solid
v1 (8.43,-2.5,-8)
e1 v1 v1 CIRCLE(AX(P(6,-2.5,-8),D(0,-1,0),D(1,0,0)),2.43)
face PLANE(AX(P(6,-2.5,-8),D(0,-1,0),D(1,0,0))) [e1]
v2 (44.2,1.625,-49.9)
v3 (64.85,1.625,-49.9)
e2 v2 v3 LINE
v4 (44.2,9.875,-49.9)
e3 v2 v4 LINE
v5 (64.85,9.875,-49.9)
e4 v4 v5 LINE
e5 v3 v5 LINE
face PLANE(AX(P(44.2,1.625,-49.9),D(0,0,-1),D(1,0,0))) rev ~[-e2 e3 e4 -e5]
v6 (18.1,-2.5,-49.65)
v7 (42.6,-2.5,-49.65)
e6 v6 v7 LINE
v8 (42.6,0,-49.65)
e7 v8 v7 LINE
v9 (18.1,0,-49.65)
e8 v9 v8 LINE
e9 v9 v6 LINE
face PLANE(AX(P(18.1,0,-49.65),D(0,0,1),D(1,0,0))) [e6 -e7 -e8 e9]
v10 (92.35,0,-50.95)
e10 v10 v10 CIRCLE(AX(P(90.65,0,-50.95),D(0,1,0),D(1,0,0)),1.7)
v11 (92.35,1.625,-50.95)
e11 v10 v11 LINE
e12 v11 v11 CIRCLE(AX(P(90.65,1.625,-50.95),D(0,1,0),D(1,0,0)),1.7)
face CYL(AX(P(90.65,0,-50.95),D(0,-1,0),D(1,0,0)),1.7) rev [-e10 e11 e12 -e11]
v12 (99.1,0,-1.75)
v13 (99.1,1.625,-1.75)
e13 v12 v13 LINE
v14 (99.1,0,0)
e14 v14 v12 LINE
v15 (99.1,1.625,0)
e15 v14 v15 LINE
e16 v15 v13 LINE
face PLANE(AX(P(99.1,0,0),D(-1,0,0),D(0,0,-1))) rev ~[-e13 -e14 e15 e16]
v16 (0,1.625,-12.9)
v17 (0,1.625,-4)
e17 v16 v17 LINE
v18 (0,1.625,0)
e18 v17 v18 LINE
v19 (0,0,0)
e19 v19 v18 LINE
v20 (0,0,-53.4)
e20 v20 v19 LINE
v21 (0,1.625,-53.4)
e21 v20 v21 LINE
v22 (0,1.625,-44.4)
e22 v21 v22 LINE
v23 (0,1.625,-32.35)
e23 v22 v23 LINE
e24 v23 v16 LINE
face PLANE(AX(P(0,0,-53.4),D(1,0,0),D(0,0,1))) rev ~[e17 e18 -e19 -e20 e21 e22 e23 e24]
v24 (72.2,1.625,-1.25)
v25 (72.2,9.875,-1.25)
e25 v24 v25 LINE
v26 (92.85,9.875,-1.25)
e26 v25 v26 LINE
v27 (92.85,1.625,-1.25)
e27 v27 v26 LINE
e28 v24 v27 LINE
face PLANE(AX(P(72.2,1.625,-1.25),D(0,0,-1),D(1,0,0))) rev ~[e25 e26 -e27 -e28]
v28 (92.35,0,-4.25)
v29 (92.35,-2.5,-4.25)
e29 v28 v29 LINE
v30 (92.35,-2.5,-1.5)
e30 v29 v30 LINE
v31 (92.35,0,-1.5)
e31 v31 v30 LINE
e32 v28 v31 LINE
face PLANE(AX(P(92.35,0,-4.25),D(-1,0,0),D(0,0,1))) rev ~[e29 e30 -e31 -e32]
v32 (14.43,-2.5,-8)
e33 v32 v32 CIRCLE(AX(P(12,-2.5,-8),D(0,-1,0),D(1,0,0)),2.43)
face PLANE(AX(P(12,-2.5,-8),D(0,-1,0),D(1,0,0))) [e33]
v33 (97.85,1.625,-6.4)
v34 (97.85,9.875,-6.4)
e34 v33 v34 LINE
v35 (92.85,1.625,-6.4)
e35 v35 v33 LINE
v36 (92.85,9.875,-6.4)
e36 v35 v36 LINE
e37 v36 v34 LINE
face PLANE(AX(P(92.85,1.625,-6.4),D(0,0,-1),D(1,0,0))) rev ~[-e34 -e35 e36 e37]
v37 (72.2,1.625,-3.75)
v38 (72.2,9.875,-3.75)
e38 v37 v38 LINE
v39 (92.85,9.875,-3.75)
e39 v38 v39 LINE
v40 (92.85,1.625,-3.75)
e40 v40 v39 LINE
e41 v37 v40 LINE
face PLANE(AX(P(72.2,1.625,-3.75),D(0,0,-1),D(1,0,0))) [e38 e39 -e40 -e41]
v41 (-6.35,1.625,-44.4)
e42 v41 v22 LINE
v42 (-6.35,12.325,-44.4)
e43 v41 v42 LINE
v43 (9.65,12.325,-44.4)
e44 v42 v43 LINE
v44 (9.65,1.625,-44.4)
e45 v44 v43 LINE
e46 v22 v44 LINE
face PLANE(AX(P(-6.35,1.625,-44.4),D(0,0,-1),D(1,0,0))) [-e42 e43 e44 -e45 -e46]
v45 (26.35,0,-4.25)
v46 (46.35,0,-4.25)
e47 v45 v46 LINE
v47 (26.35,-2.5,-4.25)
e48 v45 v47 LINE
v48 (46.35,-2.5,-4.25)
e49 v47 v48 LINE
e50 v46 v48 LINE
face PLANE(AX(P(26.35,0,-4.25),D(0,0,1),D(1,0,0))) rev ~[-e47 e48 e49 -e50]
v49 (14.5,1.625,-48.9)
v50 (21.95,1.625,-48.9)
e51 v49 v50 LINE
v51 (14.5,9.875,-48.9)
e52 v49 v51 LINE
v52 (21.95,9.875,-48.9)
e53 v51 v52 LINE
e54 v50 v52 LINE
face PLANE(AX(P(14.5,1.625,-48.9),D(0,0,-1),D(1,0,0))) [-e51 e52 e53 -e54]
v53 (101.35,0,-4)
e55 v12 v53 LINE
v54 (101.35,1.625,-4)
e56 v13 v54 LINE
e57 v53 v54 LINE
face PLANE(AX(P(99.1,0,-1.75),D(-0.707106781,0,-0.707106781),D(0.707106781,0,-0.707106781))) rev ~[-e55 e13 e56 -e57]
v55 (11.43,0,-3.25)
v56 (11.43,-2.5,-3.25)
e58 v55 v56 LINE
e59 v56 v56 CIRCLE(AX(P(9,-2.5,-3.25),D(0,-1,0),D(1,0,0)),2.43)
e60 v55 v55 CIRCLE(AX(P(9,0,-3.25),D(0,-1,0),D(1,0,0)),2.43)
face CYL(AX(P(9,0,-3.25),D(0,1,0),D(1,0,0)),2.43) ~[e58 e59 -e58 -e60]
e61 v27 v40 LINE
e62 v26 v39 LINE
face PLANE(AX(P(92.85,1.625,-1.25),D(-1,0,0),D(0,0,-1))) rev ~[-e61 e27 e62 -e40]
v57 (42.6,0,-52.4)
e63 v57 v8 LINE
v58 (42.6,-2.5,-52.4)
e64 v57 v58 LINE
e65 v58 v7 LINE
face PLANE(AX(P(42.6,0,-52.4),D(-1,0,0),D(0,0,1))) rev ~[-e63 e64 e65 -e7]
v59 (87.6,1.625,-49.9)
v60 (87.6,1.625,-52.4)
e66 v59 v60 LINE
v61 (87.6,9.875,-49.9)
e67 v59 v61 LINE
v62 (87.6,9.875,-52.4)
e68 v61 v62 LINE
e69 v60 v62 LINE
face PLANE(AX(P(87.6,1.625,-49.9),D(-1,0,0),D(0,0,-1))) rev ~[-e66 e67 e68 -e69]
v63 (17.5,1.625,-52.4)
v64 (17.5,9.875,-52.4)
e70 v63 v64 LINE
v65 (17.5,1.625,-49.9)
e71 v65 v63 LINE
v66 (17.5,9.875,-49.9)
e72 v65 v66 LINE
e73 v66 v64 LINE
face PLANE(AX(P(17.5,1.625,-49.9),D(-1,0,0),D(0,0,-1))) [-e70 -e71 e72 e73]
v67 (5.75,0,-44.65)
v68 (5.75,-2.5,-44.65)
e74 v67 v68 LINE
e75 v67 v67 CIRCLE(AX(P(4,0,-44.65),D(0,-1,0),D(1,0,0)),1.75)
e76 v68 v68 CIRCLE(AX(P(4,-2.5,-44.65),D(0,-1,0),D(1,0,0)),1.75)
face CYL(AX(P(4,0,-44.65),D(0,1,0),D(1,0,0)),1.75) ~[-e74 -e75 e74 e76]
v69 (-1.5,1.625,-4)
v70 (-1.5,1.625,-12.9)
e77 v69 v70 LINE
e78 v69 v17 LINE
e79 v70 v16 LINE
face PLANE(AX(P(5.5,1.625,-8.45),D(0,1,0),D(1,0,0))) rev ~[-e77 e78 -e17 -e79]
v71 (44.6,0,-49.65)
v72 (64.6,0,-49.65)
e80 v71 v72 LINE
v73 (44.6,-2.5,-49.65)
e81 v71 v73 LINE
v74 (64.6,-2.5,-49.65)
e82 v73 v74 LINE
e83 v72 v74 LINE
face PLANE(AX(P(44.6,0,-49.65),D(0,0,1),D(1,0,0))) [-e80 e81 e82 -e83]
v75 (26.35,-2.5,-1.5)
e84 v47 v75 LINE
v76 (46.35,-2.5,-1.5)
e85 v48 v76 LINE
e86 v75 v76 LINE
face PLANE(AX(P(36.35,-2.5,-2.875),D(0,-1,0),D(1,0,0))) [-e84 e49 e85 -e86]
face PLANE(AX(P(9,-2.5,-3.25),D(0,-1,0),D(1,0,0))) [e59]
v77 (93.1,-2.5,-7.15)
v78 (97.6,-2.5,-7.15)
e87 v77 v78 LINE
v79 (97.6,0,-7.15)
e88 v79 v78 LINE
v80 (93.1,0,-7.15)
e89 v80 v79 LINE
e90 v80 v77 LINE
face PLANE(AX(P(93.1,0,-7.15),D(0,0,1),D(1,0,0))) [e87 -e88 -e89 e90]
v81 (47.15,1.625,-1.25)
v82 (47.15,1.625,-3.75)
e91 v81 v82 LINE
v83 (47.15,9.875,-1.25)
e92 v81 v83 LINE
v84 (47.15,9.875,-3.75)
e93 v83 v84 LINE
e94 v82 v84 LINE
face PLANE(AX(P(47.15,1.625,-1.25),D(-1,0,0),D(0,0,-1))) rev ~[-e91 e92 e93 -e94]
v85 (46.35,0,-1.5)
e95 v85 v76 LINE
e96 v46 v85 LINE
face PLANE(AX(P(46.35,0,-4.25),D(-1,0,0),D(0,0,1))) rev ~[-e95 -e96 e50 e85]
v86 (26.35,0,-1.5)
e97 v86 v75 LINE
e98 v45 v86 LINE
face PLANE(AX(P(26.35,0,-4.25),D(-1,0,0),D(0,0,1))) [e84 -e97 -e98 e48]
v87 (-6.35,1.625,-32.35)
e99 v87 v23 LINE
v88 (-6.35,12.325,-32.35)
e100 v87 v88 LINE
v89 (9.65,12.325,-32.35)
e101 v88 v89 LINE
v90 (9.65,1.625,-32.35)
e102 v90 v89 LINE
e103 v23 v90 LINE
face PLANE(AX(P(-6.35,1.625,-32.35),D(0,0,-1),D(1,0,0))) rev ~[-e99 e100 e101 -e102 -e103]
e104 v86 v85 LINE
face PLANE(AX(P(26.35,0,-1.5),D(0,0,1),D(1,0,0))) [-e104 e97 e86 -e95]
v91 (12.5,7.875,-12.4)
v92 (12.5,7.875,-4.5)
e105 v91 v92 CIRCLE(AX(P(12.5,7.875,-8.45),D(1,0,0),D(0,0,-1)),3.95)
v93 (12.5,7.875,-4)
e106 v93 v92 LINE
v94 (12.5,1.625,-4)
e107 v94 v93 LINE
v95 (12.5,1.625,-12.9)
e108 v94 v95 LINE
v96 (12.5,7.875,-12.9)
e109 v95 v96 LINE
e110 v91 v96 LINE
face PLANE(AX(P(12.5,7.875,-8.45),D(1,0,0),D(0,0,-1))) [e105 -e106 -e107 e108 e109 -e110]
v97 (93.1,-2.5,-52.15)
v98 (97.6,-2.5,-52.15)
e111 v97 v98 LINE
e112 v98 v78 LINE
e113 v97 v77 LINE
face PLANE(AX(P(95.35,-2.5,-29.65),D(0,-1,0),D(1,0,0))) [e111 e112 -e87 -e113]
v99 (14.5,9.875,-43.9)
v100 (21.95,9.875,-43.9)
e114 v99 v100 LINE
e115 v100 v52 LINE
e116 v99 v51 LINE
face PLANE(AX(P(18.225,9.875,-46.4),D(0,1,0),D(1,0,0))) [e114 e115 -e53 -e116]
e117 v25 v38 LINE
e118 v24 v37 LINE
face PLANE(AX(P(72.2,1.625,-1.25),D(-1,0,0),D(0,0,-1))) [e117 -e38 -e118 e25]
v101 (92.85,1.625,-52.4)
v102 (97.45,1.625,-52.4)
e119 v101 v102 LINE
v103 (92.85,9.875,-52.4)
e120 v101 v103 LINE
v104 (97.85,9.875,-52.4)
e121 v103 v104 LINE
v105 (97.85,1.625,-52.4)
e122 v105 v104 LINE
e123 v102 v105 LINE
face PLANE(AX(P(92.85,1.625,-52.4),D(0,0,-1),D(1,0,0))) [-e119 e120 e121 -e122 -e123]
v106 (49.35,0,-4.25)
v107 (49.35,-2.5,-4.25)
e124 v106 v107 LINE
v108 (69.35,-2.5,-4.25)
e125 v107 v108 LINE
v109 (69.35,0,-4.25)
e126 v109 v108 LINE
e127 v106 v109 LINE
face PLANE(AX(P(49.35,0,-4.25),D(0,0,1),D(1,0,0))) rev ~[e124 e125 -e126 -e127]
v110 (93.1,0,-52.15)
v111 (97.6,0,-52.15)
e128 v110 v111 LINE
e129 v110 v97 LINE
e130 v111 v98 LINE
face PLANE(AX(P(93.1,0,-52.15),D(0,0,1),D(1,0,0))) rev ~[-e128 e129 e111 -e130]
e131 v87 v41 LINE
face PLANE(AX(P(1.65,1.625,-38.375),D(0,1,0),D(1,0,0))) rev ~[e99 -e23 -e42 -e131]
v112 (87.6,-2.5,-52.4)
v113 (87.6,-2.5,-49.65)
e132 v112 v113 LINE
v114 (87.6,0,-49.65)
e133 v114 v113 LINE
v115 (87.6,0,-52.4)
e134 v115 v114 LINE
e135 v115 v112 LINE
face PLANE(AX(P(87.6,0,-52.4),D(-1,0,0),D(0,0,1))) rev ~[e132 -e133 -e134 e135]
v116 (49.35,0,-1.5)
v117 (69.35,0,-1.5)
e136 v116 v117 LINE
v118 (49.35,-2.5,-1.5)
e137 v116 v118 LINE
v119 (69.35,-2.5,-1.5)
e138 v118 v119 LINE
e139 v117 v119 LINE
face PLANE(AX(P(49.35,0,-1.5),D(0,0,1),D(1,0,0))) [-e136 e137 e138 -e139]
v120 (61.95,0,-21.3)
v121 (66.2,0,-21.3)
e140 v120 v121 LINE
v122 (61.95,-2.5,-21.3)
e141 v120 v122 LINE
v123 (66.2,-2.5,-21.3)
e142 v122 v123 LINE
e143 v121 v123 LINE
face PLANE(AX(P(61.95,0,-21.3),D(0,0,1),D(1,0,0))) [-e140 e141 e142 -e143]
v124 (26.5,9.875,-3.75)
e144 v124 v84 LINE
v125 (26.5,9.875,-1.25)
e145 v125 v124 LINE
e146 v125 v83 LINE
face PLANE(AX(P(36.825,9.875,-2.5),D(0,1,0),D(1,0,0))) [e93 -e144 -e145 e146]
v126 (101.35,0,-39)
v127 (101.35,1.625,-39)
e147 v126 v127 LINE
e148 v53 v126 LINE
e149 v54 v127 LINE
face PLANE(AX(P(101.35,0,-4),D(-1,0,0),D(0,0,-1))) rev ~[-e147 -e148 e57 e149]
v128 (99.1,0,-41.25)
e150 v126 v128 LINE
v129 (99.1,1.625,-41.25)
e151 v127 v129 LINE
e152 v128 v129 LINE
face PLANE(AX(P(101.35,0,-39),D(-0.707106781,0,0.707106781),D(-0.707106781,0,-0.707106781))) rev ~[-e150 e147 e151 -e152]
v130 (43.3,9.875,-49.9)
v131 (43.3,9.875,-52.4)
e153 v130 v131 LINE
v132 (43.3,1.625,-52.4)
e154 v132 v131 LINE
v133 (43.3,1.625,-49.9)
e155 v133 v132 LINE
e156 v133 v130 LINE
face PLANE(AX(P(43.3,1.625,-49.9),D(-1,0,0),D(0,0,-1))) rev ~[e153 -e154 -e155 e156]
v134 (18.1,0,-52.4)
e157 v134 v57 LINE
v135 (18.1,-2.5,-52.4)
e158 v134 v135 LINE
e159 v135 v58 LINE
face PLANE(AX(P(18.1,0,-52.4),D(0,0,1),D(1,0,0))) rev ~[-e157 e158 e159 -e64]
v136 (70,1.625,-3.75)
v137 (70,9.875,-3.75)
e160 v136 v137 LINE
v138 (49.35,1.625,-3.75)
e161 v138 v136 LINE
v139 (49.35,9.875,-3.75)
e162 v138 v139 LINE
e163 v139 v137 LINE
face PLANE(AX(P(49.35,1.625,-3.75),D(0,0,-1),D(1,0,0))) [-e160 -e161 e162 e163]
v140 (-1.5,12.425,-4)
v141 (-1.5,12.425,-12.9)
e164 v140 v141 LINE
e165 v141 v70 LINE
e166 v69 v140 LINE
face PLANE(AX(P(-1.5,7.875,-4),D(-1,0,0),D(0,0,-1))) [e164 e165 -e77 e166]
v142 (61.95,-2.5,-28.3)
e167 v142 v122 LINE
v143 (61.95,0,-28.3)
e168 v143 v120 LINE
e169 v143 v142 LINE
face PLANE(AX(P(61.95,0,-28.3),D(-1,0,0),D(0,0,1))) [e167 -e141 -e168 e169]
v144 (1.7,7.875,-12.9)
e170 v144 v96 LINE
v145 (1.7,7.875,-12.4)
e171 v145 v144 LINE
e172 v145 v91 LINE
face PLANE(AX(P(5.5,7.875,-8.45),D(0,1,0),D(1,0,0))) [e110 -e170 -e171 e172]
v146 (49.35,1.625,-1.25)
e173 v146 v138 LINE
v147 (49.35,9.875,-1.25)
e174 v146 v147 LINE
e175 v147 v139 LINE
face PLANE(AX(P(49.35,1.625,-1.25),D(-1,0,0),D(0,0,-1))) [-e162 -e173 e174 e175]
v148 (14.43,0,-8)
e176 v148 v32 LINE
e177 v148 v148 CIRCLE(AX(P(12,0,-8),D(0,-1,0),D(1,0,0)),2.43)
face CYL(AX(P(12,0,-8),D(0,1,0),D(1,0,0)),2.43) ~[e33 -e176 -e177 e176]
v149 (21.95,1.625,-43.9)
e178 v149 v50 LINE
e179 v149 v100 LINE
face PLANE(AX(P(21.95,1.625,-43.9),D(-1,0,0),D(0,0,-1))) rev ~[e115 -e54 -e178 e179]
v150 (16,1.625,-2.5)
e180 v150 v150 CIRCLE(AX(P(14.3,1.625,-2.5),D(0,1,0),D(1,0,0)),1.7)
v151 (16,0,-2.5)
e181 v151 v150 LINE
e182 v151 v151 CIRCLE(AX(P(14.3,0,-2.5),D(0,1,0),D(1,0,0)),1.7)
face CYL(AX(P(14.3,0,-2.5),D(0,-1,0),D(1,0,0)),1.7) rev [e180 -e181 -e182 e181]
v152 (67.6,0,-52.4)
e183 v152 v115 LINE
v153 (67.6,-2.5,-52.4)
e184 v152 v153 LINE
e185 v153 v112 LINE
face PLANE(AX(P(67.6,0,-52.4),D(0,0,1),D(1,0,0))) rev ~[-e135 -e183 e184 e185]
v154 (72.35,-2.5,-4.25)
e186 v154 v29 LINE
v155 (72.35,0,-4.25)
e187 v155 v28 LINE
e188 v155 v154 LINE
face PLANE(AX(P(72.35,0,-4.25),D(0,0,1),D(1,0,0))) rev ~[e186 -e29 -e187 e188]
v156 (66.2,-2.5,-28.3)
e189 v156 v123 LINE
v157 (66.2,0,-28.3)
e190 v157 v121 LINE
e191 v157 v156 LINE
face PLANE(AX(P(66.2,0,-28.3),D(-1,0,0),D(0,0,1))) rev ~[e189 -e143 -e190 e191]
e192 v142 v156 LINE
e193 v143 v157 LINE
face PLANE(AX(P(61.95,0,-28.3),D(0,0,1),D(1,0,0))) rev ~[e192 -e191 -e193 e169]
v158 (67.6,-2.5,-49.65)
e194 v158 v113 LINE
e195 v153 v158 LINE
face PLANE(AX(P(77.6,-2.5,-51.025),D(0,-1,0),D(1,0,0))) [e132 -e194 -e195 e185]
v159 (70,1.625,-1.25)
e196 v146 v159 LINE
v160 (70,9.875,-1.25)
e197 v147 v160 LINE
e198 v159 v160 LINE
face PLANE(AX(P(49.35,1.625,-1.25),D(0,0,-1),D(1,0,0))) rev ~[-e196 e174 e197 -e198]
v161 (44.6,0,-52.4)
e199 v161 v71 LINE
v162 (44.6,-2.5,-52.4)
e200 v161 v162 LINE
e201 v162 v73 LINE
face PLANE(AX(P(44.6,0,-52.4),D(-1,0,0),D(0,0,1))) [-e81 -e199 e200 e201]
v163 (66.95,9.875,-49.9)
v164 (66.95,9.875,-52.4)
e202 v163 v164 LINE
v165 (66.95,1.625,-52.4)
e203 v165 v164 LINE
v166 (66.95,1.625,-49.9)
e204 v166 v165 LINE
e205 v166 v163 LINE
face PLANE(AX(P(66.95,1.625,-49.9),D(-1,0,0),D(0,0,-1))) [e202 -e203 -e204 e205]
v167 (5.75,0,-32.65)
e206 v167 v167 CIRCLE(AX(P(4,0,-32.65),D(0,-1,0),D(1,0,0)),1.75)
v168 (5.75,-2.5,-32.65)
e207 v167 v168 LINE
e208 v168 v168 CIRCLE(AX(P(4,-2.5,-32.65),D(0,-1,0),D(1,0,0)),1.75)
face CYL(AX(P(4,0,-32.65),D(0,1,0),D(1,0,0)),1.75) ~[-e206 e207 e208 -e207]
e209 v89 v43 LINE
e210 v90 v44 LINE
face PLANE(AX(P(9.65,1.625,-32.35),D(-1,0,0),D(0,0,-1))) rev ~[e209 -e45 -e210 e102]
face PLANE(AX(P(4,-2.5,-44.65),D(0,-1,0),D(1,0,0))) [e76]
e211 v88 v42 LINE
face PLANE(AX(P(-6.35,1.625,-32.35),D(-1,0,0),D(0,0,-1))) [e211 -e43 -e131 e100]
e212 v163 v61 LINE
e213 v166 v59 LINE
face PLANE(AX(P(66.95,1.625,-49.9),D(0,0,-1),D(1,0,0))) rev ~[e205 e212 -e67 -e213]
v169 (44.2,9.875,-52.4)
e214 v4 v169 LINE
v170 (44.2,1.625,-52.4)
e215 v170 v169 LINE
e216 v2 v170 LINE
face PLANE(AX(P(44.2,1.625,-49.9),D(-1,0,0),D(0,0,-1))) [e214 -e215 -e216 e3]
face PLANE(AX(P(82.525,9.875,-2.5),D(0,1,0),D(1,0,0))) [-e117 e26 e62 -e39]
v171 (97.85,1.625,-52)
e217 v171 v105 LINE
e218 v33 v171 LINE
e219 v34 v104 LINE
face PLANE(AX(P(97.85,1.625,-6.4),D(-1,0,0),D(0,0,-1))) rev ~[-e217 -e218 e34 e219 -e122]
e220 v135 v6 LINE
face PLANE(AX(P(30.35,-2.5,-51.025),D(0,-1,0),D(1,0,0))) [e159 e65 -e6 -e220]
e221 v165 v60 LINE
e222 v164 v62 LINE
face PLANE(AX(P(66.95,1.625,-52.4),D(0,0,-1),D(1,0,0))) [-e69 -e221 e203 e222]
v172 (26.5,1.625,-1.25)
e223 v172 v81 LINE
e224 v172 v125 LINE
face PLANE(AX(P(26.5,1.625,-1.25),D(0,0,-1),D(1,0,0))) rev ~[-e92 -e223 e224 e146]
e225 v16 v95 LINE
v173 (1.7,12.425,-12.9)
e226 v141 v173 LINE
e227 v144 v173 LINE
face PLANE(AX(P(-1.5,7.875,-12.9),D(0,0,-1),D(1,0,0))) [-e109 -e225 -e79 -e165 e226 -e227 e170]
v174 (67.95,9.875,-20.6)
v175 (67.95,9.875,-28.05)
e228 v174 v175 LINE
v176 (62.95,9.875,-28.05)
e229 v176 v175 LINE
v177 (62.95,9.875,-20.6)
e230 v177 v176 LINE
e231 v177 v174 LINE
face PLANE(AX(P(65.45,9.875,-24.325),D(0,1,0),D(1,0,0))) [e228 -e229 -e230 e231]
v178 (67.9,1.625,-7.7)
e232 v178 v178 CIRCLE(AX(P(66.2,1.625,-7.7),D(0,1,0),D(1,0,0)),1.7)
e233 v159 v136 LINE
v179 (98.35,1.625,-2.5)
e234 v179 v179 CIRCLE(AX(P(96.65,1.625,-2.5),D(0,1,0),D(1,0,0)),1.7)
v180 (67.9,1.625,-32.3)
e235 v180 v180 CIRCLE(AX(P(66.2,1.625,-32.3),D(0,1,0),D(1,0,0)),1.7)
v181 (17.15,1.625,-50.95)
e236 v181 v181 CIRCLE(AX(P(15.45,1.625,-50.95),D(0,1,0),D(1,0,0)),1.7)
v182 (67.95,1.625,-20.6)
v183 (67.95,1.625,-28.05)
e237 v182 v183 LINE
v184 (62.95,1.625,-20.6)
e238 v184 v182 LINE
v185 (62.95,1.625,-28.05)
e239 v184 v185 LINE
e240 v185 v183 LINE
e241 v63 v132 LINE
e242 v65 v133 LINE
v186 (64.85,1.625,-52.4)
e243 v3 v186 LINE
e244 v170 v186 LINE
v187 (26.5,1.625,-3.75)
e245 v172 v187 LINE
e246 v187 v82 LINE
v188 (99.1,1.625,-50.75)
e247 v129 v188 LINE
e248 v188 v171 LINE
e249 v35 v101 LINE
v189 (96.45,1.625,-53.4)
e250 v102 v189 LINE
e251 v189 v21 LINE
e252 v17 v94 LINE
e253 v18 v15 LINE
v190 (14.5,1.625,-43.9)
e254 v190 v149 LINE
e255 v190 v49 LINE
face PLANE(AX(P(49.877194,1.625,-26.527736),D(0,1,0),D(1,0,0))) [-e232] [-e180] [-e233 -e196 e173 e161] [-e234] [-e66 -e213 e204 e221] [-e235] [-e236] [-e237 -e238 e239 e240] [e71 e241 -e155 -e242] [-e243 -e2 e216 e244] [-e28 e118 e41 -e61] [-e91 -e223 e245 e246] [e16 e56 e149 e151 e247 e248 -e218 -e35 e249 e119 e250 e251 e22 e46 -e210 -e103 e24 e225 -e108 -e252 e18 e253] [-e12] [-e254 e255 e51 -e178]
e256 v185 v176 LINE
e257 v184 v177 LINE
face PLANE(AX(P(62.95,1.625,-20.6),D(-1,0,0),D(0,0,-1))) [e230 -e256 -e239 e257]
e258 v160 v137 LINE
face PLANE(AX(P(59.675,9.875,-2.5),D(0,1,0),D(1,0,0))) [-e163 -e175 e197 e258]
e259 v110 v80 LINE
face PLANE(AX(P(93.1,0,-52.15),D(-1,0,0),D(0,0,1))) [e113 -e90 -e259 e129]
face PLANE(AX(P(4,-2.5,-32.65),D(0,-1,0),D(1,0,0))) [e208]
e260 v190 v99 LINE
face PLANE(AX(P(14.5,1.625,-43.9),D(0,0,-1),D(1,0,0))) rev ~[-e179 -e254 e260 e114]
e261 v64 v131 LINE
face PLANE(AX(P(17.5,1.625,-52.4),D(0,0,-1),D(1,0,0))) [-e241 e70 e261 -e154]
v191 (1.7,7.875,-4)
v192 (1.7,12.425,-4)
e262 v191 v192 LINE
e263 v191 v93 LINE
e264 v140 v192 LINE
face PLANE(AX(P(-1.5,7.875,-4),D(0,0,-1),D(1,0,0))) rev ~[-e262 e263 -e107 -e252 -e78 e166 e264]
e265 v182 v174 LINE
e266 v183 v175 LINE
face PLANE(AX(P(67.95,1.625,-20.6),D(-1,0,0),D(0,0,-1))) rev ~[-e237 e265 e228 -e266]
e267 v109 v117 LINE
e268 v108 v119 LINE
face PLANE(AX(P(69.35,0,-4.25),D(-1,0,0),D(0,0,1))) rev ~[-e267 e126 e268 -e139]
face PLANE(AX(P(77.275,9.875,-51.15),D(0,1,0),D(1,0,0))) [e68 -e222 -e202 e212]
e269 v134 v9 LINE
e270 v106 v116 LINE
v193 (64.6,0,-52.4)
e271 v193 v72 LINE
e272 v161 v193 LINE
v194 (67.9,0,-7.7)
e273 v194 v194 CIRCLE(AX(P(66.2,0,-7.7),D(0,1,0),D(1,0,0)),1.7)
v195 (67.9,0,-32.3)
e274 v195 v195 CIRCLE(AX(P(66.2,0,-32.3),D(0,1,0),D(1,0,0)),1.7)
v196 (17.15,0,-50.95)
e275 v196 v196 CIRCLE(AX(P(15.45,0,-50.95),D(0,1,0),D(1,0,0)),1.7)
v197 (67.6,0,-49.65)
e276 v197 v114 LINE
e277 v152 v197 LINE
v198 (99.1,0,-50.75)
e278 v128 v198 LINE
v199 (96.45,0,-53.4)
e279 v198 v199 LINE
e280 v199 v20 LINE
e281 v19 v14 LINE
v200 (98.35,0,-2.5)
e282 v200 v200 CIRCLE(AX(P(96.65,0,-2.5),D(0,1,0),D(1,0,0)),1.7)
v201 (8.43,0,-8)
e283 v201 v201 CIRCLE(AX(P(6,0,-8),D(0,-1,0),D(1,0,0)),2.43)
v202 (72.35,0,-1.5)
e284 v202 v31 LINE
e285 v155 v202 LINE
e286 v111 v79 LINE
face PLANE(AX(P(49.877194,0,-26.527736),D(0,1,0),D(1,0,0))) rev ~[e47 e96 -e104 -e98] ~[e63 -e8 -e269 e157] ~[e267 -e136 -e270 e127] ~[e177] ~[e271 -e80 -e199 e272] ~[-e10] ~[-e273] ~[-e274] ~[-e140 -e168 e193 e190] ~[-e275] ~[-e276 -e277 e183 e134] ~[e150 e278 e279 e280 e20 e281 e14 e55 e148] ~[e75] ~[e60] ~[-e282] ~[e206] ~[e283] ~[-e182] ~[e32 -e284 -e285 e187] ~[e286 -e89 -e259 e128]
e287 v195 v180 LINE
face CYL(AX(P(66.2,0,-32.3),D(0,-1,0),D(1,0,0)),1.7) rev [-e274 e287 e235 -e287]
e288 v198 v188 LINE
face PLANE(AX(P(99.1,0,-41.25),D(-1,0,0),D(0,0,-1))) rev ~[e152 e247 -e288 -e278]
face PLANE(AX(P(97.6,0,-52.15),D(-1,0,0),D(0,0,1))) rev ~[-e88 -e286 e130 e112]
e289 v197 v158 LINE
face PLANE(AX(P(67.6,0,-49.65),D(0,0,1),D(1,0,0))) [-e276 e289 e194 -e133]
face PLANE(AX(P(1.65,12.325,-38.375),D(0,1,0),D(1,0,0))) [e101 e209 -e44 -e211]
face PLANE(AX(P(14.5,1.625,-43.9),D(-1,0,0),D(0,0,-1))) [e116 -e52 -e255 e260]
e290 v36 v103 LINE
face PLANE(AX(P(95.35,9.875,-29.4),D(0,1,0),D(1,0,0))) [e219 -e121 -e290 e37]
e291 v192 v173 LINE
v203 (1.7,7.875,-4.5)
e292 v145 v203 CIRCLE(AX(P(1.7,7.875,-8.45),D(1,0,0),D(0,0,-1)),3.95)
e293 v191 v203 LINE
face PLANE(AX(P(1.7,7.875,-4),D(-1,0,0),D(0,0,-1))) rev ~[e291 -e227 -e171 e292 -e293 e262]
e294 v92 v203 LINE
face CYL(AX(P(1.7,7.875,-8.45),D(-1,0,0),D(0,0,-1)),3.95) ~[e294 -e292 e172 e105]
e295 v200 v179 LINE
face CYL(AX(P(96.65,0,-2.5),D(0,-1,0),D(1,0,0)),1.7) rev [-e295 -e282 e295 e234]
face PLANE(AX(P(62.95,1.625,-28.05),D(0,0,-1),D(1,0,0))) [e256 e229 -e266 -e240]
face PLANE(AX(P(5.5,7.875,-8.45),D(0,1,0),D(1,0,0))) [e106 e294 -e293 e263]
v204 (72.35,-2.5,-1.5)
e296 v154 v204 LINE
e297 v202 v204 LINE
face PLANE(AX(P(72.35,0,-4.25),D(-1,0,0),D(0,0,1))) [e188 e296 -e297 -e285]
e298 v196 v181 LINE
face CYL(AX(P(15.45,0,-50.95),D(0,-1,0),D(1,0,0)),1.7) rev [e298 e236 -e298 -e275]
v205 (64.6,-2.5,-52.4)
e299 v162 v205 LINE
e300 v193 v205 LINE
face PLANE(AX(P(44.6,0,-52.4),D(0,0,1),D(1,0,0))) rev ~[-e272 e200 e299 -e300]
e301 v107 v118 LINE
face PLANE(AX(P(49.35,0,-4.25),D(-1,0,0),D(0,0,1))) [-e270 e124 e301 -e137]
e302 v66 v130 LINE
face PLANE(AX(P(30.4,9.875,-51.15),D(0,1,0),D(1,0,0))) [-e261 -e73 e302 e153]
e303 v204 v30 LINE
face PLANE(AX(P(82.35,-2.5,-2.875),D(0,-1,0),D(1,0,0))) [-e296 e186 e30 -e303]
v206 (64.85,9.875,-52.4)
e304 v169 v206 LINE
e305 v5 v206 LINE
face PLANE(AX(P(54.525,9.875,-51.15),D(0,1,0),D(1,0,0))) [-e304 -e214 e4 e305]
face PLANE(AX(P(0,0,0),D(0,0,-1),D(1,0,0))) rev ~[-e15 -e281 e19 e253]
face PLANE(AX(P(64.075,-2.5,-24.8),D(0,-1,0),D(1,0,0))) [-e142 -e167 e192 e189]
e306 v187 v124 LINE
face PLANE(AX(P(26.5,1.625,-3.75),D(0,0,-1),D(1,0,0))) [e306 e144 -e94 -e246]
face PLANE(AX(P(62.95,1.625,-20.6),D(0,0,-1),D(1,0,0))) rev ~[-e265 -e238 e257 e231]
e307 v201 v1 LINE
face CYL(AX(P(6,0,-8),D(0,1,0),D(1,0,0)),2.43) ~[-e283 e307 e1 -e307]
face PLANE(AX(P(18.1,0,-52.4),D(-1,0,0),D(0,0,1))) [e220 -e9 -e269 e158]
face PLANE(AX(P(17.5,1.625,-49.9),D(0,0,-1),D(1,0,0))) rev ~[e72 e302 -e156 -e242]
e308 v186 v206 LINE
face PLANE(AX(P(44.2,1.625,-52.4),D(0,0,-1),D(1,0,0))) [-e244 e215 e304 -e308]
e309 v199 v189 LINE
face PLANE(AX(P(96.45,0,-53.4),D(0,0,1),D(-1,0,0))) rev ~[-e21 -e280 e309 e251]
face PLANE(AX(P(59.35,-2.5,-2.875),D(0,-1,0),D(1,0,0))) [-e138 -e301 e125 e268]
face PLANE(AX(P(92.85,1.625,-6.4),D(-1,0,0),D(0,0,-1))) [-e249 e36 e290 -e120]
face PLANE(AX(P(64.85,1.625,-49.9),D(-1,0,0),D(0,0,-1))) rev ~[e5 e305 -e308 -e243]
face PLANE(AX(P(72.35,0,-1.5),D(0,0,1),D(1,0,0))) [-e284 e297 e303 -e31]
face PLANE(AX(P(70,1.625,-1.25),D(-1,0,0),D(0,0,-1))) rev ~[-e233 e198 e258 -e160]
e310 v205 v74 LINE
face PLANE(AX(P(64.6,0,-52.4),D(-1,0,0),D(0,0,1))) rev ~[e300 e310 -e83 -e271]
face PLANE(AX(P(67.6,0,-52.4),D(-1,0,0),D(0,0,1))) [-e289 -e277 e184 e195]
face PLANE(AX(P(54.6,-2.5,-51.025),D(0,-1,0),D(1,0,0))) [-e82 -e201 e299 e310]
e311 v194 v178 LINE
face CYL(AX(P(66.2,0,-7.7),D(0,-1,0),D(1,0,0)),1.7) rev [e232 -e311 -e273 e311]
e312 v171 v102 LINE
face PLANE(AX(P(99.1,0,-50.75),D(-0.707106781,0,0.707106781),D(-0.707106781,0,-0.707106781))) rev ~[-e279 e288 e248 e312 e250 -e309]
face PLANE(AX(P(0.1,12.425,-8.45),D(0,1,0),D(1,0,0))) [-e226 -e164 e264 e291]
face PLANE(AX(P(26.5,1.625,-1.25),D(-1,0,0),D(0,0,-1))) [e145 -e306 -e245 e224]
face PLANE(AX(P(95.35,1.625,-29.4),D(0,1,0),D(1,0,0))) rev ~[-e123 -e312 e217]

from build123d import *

# Parameters (mm, degrees)
SKETCH2_R           = 1.7
BOSS_EXTRUDE1_DEPTH = 1.625
SKETCH3_W           = 16
SKETCH3_H           = 12.05
BOSS_EXTRUDE2_DEPTH = 10.7
SKETCH4_W           = 14
SKETCH4_H           = 8.9
BOSS_EXTRUDE3_DEPTH = 6.25
SKETCH5_W           = 3.2
SKETCH5_H           = 8.9
BOSS_EXTRUDE4_DEPTH = 4.55
SKETCH6_R           = 3.95
BOSS_EXTRUDE5_DEPTH = 10.8
SKETCH7_R           = 2.43
SKETCH7_R_2         = 1.75
SKETCH7_W           = 4.5
SKETCH7_H           = 45
SKETCH7_W_2         = 20
SKETCH7_H_2         = 2.75
SKETCH7_W_3         = 24.5
SKETCH7_W_4         = 4.25
SKETCH7_H_3         = 7
BOSS_EXTRUDE6_DEPTH = 2.5
SKETCH8_W           = 25.8
SKETCH8_H           = 2.5
SKETCH8_W_2         = 20.65
SKETCH8_W_3         = 5
SKETCH8_H_2         = 46
SKETCH8_H_3         = 7.45
SKETCH8_W_4         = 7.45
SKETCH8_H_4         = 5
BOSS_EXTRUDE7_DEPTH = 8.25


with BuildPart() as part:
    # Sketch2 → Boss-Extrude1 (new body)
    with BuildSketch(Plane(origin=(0, 0, 0), x_dir=(1, 0, 0), z_dir=(0, 1, 0))):
        Polygon((99.1, 0), (99.1, 1.75), (101.35, 4), (101.35, 39), (99.1, 41.25), (99.1, 50.75), (96.45, 53.4), (0, 53.4), (0, 0), align=None)
        with Locations((96.65, 2.5)):
            Circle(SKETCH2_R, mode=Mode.SUBTRACT)
        with Locations((90.65, 50.95)):
            Circle(SKETCH2_R, mode=Mode.SUBTRACT)
        with Locations((15.45, 50.95)):
            Circle(SKETCH2_R, mode=Mode.SUBTRACT)
        with Locations((14.3, 2.5)):
            Circle(SKETCH2_R, mode=Mode.SUBTRACT)
        with Locations((66.2, 32.3)):
            Circle(SKETCH2_R, mode=Mode.SUBTRACT)
        with Locations((66.2, 7.7)):
            Circle(SKETCH2_R, mode=Mode.SUBTRACT)
    extrude(amount=BOSS_EXTRUDE1_DEPTH)

    # Sketch3 → Boss-Extrude2 (add)
    with BuildSketch(Plane(origin=(0, 1.625, 0), x_dir=(1, 0, 0), z_dir=(0, 1, 0))):
        with Locations((1.65, 38.375)):
            Rectangle(SKETCH3_W, SKETCH3_H)
    extrude(amount=BOSS_EXTRUDE2_DEPTH)

    # Sketch4 → Boss-Extrude3 (add)
    with BuildSketch(Plane(origin=(0, 1.625, 0), x_dir=(1, 0, 0), z_dir=(0, 1, 0))):
        with Locations((5.5, 8.45)):
            Rectangle(SKETCH4_W, SKETCH4_H)
    extrude(amount=BOSS_EXTRUDE3_DEPTH)

    # Sketch5 → Boss-Extrude4 (add)
    with BuildSketch(Plane(origin=(0, 7.875, 0), x_dir=(1, 0, 0), z_dir=(0, 1, 0))):
        with Locations((0.1, 8.45)):
            Rectangle(SKETCH5_W, SKETCH5_H)
    extrude(amount=BOSS_EXTRUDE4_DEPTH)

    # Sketch6 → Boss-Extrude5 (add)
    with BuildSketch(Plane(origin=(1.7, 0, 0), x_dir=(0, 0, -1), z_dir=(1, 0, 0))):
        with Locations((8.45, 7.875)):
            Circle(SKETCH6_R)
    extrude(amount=BOSS_EXTRUDE5_DEPTH)

    # Sketch7 → Boss-Extrude6 (add)
    with BuildSketch(Plane.XZ):
        with Locations((9, -3.25)):
            Circle(SKETCH7_R)
        with Locations((6, -8)):
            Circle(SKETCH7_R)
        with Locations((12, -8)):
            Circle(SKETCH7_R)
        with Locations((4, -32.65)):
            Circle(SKETCH7_R_2)
        with Locations((4, -44.65)):
            Circle(SKETCH7_R_2)
        with Locations((95.35, -29.65)):
            Rectangle(SKETCH7_W, SKETCH7_H)
        with Locations((77.6, -51.025)):
            Rectangle(SKETCH7_W_2, SKETCH7_H_2)
        with Locations((54.6, -51.025)):
            Rectangle(SKETCH7_W_2, SKETCH7_H_2)
        with Locations((30.35, -51.025)):
            Rectangle(SKETCH7_W_3, SKETCH7_H_2)
        with Locations((82.35, -2.875)):
            Rectangle(SKETCH7_W_2, SKETCH7_H_2)
        with Locations((59.35, -2.875)):
            Rectangle(SKETCH7_W_2, SKETCH7_H_2)
        with Locations((36.35, -2.875)):
            Rectangle(SKETCH7_W_2, SKETCH7_H_2)
        with Locations((64.075, -24.8)):
            Rectangle(SKETCH7_W_4, SKETCH7_H_3)
    extrude(amount=BOSS_EXTRUDE6_DEPTH)

    # Sketch8 → Boss-Extrude7 (add)
    with BuildSketch(Plane(origin=(0, 1.625, 0), x_dir=(1, 0, 0), z_dir=(0, 1, 0))):
        with Locations((30.4, 51.15)):
            Rectangle(SKETCH8_W, SKETCH8_H)
        with Locations((54.525, 51.15)):
            Rectangle(SKETCH8_W_2, SKETCH8_H)
        with Locations((77.275, 51.15)):
            Rectangle(SKETCH8_W_2, SKETCH8_H)
        with Locations((95.35, 29.4)):
            Rectangle(SKETCH8_W_3, SKETCH8_H_2)
        with Locations((36.825, 2.5)):
            Rectangle(SKETCH8_W_2, SKETCH8_H)
        with Locations((59.675, 2.5)):
            Rectangle(SKETCH8_W_2, SKETCH8_H)
        with Locations((82.525, 2.5)):
            Rectangle(SKETCH8_W_2, SKETCH8_H)
        with Locations((65.45, 24.325)):
            Rectangle(SKETCH8_W_3, SKETCH8_H_3)
        with Locations((18.225, 46.4)):
            Rectangle(SKETCH8_W_4, SKETCH8_H_4)
    extrude(amount=BOSS_EXTRUDE7_DEPTH)


solid = part.part
